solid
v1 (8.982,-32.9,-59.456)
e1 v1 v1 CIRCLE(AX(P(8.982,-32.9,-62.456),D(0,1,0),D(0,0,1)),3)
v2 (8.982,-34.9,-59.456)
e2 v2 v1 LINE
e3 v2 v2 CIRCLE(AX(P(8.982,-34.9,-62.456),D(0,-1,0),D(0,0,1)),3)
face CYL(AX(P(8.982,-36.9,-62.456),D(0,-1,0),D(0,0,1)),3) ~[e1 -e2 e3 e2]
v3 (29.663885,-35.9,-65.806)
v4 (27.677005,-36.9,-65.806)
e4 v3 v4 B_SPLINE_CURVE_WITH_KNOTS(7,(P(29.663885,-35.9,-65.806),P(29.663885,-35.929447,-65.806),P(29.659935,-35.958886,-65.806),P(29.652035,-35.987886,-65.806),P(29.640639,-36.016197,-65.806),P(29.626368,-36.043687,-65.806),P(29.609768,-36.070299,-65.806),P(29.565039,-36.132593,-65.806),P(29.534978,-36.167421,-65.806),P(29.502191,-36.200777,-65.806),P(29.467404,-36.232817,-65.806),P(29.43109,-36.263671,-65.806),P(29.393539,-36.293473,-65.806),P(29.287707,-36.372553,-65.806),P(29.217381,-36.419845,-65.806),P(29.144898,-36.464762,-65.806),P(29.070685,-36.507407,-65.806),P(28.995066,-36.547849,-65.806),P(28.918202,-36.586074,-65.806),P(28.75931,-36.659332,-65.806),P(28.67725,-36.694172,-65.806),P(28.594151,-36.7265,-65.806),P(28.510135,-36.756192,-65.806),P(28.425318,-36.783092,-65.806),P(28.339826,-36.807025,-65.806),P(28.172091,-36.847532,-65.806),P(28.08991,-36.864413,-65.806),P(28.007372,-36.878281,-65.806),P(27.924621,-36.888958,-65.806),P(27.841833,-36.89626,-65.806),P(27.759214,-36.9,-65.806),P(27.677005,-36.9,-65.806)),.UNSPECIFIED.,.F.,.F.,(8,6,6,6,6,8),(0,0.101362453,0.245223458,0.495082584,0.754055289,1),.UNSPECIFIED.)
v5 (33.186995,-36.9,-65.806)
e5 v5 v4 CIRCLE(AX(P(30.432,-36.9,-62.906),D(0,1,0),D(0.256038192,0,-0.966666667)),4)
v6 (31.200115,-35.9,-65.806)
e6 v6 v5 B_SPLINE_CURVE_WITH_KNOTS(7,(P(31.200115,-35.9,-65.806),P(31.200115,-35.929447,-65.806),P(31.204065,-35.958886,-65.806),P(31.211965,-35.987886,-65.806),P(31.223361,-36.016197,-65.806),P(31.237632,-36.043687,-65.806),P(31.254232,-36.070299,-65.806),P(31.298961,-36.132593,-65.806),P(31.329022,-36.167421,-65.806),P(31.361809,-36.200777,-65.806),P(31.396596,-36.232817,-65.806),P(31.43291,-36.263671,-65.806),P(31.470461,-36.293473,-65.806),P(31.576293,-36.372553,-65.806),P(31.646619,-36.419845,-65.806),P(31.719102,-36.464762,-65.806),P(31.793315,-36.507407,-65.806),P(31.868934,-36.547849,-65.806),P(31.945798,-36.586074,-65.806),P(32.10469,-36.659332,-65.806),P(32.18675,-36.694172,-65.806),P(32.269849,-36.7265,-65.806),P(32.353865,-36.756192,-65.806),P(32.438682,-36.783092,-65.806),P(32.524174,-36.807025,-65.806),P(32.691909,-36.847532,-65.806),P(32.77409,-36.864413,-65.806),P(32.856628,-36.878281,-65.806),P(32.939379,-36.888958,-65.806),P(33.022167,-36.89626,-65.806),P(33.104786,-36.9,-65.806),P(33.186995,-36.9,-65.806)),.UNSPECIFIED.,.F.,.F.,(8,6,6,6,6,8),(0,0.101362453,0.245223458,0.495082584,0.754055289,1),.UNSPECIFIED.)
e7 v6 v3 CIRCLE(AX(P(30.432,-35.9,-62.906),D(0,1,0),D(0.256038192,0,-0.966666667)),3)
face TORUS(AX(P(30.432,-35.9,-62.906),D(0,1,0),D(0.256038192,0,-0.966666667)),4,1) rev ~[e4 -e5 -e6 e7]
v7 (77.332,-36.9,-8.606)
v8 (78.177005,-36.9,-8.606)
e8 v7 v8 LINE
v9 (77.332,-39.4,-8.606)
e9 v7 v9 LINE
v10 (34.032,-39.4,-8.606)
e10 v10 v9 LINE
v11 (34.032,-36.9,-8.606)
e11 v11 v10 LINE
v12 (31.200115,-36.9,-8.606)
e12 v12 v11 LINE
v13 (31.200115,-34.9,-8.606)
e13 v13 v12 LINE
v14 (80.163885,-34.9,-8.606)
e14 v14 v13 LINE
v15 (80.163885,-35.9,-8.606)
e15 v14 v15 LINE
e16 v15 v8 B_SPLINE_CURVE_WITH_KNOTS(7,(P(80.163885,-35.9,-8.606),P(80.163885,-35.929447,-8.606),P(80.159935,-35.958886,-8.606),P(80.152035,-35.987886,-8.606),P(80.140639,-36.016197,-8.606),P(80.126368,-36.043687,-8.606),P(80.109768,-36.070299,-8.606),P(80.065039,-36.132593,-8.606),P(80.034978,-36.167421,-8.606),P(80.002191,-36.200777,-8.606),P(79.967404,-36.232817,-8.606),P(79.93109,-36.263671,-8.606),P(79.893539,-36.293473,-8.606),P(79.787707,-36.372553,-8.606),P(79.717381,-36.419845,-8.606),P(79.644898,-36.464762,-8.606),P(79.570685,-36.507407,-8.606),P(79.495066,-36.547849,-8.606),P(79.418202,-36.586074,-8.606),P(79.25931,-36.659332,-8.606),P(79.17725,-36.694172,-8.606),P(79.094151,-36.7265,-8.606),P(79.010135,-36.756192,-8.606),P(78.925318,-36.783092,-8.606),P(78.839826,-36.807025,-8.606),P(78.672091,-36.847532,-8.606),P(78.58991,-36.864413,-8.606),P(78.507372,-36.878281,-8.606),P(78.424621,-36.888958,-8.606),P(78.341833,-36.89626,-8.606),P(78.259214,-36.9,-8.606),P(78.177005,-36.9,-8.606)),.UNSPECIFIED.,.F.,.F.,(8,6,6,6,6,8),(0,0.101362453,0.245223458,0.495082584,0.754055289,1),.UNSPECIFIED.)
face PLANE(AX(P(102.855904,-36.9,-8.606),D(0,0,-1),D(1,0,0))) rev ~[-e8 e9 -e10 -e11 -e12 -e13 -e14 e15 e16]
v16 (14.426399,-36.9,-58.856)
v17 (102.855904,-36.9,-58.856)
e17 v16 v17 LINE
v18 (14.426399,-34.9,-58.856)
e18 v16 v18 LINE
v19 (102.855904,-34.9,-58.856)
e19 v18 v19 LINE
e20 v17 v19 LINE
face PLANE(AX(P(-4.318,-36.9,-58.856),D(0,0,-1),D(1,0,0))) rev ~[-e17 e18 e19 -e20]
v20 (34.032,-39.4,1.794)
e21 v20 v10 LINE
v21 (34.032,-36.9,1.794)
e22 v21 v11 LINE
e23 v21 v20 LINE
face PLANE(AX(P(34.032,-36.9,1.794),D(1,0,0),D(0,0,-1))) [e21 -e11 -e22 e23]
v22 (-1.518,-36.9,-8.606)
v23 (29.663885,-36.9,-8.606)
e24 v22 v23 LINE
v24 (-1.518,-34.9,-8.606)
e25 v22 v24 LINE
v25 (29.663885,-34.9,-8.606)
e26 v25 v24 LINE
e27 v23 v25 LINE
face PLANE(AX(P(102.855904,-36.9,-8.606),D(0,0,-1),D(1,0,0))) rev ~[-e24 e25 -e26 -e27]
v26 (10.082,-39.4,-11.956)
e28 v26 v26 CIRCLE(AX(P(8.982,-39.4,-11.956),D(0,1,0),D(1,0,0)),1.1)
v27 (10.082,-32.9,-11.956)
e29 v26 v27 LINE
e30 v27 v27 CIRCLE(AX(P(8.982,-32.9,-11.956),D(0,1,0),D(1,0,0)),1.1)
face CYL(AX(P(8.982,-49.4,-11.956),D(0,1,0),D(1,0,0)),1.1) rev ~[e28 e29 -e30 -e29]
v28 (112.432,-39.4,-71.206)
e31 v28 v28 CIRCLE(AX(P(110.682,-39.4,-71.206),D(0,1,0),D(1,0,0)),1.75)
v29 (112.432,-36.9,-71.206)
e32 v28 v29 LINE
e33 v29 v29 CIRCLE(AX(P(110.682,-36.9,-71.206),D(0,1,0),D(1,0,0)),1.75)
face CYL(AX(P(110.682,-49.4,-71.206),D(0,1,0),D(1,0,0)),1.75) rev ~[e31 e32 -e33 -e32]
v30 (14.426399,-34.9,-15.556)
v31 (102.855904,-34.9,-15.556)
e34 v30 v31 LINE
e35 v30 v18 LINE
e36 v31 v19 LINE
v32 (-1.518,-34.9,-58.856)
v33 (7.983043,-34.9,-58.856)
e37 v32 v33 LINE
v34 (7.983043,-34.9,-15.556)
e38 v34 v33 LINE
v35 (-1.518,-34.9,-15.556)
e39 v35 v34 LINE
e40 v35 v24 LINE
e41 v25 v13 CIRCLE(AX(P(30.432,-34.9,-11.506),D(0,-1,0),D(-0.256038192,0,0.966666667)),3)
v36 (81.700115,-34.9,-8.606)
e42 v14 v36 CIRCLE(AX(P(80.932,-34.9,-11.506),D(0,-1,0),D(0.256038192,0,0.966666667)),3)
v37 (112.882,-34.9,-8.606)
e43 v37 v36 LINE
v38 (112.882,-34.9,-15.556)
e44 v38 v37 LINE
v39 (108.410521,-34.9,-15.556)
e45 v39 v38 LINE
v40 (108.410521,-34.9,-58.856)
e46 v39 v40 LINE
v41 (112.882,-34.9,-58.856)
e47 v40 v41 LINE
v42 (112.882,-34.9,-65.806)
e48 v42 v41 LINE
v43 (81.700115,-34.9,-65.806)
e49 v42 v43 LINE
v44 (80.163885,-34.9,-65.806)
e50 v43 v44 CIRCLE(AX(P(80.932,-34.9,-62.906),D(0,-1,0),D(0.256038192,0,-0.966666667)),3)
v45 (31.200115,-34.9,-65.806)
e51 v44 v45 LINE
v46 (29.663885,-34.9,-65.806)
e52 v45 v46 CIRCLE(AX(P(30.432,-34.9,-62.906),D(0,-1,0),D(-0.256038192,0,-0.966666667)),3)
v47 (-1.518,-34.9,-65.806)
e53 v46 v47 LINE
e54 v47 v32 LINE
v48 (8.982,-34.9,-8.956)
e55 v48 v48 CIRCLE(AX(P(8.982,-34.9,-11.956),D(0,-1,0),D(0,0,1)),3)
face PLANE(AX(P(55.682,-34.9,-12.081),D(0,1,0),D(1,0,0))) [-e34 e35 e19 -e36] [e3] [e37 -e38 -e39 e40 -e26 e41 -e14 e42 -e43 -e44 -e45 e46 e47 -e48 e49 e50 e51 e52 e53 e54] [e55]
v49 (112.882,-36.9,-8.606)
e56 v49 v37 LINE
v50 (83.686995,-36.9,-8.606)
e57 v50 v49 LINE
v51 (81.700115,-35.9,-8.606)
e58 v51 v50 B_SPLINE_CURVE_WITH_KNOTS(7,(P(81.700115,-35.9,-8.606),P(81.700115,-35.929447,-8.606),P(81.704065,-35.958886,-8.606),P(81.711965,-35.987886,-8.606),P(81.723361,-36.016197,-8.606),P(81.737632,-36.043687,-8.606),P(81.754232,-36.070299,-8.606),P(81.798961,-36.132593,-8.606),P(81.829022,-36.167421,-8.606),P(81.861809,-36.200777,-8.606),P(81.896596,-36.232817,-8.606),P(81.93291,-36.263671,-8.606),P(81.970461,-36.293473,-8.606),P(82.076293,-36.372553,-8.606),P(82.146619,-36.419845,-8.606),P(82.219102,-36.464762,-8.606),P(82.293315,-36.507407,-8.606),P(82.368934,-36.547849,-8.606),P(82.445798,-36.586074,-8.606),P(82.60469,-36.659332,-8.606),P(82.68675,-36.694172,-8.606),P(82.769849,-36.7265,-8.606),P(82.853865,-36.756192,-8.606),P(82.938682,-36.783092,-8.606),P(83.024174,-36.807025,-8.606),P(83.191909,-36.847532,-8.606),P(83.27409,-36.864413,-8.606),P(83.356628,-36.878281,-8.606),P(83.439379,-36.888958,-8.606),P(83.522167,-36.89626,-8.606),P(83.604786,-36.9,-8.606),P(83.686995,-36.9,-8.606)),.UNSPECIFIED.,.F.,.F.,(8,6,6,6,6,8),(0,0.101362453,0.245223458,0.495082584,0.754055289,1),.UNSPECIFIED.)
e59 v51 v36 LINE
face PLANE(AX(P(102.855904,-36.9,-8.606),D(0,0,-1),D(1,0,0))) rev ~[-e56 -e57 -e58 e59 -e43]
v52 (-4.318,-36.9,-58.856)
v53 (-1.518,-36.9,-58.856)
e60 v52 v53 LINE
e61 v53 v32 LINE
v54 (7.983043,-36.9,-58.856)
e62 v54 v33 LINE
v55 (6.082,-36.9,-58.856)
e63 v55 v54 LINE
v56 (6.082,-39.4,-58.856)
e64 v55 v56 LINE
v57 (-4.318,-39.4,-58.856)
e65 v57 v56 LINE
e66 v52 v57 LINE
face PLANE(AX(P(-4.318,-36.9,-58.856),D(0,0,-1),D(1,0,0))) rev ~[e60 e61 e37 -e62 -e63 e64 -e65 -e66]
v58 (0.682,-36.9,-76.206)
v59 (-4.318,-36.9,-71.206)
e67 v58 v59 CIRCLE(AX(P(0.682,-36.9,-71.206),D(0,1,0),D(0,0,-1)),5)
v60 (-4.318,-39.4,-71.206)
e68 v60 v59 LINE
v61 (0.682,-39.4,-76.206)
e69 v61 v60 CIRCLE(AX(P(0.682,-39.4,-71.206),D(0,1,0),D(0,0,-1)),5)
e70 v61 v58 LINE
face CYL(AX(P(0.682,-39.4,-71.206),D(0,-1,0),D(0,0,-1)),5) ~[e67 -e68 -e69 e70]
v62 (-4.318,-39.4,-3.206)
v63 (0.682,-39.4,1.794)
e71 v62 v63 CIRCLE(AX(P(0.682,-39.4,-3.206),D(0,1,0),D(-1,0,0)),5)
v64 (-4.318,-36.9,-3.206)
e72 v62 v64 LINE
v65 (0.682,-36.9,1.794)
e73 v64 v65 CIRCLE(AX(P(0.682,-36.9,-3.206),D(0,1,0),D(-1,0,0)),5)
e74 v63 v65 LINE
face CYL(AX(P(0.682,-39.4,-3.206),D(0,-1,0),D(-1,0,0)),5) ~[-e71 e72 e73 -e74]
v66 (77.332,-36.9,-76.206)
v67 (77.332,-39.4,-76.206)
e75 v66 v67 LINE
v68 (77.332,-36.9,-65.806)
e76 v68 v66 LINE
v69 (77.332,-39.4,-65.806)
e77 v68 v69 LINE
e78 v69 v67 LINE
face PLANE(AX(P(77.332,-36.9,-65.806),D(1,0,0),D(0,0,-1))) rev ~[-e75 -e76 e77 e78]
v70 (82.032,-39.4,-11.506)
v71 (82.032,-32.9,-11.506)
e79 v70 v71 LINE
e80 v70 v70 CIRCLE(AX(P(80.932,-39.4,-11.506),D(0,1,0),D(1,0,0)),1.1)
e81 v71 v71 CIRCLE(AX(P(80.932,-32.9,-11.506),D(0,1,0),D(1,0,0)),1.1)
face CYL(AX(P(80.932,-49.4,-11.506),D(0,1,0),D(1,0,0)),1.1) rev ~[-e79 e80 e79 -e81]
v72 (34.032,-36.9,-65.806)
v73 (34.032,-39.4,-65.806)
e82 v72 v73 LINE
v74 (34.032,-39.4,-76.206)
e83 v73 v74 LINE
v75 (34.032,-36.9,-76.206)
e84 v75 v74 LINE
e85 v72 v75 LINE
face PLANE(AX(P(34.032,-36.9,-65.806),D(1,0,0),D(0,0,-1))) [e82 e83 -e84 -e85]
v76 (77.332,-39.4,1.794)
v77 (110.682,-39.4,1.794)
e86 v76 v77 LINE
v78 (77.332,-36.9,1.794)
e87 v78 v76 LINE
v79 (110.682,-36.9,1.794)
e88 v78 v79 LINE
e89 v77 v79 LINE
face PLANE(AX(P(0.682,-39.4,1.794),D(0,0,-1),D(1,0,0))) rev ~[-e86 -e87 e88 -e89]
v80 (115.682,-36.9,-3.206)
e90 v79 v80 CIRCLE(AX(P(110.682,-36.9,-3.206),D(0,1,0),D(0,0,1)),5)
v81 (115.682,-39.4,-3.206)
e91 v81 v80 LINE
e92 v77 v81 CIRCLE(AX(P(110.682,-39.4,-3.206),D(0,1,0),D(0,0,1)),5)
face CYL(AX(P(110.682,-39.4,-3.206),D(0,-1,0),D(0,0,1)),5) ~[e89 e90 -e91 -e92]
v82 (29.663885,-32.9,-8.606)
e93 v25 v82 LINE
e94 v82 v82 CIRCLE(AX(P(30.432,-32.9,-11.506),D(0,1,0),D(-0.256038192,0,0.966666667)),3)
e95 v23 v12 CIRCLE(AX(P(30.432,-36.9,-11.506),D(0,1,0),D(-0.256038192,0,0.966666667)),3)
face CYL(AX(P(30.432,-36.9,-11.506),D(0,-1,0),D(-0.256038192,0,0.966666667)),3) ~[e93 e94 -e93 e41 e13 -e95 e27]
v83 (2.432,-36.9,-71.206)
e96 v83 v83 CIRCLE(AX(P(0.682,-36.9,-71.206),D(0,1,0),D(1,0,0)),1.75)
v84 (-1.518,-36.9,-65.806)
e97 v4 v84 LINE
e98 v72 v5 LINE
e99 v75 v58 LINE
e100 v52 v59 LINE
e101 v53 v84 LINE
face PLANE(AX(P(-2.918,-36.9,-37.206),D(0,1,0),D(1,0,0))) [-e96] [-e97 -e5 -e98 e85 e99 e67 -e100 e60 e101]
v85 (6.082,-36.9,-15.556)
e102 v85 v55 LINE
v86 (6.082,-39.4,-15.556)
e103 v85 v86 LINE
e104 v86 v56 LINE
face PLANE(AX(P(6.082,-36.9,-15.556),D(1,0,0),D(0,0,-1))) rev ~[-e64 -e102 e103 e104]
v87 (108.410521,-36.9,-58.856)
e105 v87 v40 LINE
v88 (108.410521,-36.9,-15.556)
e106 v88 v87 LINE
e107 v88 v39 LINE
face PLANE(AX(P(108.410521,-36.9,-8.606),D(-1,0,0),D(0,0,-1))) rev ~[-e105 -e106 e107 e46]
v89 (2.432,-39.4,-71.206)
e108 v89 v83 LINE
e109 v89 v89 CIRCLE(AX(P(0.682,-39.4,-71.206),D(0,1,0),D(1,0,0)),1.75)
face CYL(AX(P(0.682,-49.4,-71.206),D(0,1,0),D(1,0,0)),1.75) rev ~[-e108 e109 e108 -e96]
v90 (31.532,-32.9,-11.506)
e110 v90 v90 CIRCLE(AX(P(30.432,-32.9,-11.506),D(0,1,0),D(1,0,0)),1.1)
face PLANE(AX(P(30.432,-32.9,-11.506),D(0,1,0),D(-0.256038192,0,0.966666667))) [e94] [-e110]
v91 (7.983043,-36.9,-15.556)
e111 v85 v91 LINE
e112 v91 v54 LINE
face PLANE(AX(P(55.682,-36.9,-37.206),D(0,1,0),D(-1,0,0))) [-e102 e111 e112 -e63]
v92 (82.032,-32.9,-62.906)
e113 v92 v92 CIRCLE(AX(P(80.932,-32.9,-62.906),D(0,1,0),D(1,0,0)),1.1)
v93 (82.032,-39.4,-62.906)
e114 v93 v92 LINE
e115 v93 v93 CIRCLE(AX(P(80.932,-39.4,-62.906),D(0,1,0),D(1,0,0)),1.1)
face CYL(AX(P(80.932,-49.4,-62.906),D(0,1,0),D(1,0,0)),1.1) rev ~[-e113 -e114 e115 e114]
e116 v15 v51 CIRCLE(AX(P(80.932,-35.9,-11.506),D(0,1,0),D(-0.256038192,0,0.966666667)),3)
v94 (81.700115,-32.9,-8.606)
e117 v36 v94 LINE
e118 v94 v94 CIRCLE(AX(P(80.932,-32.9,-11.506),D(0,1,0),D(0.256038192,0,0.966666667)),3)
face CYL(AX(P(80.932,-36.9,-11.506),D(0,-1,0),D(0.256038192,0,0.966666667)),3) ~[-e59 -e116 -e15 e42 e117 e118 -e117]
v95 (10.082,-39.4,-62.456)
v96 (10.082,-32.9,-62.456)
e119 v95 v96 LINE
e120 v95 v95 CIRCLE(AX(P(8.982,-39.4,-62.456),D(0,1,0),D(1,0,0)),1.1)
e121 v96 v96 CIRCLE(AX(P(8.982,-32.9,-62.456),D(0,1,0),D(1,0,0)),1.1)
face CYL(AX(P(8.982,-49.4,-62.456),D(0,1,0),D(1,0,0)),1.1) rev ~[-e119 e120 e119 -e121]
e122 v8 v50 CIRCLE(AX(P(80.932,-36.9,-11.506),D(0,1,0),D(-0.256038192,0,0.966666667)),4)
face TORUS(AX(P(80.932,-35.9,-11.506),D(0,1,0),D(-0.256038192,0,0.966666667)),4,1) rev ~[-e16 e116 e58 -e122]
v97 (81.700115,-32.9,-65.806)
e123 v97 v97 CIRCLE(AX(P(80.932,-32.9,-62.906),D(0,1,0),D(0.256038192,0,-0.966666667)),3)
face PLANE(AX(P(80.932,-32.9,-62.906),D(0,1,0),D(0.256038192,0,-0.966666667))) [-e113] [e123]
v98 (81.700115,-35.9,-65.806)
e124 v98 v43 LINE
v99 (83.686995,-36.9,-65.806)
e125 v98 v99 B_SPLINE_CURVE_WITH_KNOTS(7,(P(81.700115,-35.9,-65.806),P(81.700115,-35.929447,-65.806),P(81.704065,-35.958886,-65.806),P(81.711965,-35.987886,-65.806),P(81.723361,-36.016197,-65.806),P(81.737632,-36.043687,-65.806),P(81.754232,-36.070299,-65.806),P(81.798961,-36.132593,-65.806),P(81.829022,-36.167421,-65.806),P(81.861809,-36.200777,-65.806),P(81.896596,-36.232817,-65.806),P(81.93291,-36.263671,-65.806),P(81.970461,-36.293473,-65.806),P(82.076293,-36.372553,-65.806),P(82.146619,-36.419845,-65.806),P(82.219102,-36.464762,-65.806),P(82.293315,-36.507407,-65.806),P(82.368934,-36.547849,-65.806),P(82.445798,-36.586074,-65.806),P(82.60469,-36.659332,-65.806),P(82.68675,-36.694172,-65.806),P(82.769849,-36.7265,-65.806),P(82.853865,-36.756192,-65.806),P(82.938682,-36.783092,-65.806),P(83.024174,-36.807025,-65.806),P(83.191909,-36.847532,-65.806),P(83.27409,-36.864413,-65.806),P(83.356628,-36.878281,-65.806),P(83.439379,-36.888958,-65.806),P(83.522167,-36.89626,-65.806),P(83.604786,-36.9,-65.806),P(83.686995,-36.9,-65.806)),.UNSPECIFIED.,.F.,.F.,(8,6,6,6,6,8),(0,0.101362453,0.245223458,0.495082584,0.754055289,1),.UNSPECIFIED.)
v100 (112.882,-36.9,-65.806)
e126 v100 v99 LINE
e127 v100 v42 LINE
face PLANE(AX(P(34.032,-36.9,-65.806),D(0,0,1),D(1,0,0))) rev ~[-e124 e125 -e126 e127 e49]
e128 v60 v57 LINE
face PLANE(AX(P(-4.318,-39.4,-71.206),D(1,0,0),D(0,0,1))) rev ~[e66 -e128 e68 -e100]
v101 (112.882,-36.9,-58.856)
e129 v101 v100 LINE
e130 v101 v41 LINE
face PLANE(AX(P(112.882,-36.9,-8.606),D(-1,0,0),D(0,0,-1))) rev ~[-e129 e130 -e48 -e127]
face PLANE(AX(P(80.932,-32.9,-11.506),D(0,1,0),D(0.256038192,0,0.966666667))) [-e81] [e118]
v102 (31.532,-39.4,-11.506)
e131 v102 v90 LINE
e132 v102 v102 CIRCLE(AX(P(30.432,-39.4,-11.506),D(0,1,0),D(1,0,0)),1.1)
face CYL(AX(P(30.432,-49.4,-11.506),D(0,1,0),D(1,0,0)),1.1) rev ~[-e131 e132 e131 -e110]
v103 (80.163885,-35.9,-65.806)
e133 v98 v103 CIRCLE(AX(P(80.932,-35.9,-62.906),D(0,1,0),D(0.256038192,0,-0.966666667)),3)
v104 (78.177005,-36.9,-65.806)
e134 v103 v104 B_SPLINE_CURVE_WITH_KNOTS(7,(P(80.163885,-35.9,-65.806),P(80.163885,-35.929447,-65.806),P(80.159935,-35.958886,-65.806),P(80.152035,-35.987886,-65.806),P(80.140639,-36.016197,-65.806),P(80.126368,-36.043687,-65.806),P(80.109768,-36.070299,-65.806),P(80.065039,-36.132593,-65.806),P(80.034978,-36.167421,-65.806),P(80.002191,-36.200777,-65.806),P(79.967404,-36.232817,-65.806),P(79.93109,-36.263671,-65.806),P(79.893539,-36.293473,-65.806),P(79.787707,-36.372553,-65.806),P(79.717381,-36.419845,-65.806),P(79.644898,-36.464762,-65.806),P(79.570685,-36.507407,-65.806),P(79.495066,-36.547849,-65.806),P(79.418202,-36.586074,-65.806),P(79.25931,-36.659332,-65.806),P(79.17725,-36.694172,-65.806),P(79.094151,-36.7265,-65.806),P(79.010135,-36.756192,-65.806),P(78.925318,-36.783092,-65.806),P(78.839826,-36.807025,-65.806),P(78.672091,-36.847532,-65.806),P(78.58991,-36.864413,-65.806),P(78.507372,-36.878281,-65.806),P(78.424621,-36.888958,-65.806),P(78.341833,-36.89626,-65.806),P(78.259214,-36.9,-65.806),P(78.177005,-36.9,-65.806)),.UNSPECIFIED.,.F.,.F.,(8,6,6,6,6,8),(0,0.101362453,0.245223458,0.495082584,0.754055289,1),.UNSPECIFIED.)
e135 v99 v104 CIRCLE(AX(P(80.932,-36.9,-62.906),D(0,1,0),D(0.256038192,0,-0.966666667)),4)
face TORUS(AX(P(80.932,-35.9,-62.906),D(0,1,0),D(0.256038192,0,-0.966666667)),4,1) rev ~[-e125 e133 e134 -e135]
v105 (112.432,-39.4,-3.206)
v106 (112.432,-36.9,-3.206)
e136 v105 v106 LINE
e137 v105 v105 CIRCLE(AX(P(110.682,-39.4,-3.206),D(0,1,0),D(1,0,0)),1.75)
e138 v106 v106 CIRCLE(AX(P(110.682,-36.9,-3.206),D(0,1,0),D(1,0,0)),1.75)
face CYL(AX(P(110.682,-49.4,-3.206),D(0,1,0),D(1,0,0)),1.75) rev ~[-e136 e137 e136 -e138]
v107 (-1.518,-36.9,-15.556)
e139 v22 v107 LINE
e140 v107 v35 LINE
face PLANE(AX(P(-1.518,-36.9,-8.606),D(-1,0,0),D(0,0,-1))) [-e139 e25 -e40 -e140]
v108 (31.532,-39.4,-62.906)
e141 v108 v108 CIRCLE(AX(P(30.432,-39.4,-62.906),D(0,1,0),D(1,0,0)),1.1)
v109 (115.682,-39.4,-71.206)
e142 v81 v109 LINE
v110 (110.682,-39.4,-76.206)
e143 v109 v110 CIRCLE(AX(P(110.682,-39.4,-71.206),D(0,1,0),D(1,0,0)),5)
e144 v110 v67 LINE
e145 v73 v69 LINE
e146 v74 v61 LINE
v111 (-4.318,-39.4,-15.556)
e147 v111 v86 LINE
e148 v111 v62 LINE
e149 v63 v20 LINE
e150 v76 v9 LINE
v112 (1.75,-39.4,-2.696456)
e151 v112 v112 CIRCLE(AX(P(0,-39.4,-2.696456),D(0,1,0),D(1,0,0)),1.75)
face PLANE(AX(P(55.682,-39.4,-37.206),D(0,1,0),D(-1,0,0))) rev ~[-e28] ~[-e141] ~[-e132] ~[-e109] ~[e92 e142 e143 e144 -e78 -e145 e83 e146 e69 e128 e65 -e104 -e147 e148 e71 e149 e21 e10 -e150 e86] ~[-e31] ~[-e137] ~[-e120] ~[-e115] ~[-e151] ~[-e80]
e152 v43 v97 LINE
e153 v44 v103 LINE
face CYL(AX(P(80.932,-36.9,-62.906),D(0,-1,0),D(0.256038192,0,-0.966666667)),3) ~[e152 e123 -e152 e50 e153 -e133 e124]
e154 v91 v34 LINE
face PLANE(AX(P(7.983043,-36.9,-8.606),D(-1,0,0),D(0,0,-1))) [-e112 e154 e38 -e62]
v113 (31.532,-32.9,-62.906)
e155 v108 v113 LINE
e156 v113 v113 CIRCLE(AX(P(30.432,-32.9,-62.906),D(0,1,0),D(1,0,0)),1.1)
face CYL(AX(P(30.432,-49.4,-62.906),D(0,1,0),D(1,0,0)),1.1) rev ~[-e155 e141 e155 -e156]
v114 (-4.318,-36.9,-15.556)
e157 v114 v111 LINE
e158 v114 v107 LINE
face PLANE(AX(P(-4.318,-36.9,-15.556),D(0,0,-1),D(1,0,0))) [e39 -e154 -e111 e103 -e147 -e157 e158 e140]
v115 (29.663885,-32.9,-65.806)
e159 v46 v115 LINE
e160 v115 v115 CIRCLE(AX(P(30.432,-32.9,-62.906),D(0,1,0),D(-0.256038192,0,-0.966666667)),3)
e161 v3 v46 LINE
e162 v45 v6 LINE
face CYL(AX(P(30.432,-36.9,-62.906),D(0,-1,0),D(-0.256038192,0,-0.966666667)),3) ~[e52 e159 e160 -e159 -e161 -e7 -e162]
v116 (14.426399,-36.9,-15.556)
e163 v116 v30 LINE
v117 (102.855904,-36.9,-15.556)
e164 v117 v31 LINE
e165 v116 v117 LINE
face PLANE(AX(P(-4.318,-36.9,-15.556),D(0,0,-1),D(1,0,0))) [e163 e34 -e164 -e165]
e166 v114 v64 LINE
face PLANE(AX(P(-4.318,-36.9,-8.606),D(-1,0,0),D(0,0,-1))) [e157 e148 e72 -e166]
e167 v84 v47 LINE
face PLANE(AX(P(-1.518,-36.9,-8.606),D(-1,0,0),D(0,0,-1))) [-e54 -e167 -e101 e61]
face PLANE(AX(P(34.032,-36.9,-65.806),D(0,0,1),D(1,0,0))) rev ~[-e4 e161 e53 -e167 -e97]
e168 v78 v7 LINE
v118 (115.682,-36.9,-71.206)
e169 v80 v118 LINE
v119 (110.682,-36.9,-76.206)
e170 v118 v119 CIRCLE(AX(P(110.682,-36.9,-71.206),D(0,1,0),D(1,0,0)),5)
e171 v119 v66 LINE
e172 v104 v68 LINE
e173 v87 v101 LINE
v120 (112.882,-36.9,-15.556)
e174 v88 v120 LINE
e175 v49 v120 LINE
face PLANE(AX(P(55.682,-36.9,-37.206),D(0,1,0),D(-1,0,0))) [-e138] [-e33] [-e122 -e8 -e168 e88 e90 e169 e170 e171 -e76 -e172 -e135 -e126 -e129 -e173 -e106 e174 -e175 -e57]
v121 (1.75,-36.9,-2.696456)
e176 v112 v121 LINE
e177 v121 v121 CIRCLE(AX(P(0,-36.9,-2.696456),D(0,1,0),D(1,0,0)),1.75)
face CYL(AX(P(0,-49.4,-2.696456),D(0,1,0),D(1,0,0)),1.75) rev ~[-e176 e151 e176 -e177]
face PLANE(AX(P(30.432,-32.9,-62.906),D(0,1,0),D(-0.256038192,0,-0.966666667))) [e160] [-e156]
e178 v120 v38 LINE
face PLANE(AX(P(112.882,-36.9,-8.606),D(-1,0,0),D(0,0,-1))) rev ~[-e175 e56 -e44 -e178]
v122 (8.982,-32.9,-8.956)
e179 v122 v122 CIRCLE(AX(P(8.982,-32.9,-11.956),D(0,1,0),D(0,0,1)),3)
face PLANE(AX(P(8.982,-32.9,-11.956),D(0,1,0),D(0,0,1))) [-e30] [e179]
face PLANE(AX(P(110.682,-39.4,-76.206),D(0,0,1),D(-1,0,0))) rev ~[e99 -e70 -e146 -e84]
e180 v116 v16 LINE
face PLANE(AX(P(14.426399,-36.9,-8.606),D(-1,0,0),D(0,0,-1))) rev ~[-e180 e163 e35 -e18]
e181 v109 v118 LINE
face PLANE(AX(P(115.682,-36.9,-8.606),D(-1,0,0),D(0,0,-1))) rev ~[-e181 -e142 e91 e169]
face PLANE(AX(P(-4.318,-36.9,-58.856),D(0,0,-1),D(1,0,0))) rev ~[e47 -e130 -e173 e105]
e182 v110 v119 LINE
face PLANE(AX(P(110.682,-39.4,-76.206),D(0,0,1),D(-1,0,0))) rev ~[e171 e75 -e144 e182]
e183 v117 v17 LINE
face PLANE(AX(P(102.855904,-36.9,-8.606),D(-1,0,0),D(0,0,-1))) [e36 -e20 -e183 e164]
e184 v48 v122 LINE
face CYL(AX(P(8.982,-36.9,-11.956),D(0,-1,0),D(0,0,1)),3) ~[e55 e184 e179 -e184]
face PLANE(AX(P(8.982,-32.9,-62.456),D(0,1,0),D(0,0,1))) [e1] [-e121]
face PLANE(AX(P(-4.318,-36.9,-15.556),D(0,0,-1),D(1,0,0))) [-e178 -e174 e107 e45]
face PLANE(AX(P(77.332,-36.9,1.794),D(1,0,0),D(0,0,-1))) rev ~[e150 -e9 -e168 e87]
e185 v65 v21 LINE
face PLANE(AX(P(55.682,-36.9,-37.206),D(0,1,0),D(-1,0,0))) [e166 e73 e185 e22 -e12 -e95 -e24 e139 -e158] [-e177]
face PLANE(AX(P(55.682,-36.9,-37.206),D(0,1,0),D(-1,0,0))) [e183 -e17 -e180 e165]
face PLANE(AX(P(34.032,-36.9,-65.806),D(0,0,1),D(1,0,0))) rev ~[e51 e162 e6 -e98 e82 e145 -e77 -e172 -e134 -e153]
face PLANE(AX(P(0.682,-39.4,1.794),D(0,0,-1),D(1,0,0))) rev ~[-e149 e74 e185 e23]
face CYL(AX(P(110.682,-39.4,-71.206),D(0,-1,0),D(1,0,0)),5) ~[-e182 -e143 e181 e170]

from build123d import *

# Parameters (mm, degrees)
P_IDAT_VYSUNUT_M1_DEPTH      = 2.5
SKICA2_W                     = 43.3
SKICA2_H                     = 10.4
SKICA2_W_2                   = 10.4
SKICA2_H_2                   = 43.3
ODEBRAT_VYSUNUT_M1_DEPTH     = 139.549375892
SKICA6_W                     = 120
SKICA6_H                     = 6.95
P_IDAT_VYSUNUT_M3_DEPTH      = 2
SKICA7_W                     = 5.554617132
SKICA7_H                     = 57.2
SKICA7_W_2                   = 6.443355873
P_IDAT_VYSUNUT_M4_DEPTH      = 2
SKICA3_R                     = 3
P_IDAT_VYSUNUT_M2_DEPTH      = 4
F_2_2_2_2_PR_M_R_D_RY1_D     = 2.2
F_2_2_2_2_PR_M_R_D_RY1_DEPTH = 10
ZAOBLIT1_R                   = 1
SKICA8_W                     = 2.8
SKICA8_H                     = 57.2
ODEBRAT_VYSUNUT_M3_DEPTH     = 139.58455752
F_3_5_3_5_PR_M_R_D_RY1_D     = 3.5
F_3_5_3_5_PR_M_R_D_RY1_DEPTH = 10


with BuildPart() as part:
    # Skica1 → Přidat vysunutím1 (new body)
    with BuildSketch(Plane.XZ.offset(39.4)):
        with BuildLine():
            Line((-4.318, -71.206), (-4.318, -3.206))
            ThreePointArc((-4.318, -3.206), (-2.853533906, 0.329533906), (0.682, 1.794))
            Line((0.682, 1.794), (110.682, 1.794))
            ThreePointArc((110.682, 1.794), (114.217533906, 0.329533906), (115.682, -3.206))
            Line((115.682, -3.206), (115.682, -71.206))
            ThreePointArc((115.682, -71.206), (114.217533906, -74.741533906), (110.682, -76.206))
            Line((110.682, -76.206), (0.682, -76.206))
            ThreePointArc((0.682, -76.206), (-2.853533906, -74.741533906), (-4.318, -71.206))
        make_face()
    extrude(amount=-P_IDAT_VYSUNUT_M1_DEPTH)

    # Skica2 → Odebrat vysunutím1 (cut, through all)
    with BuildSketch(Plane(origin=(0, -36.9, 0), x_dir=(1, 0, 0), z_dir=(0, 1, 0))):
        with Locations((55.682, 3.406)):
            Rectangle(SKICA2_W, SKICA2_H)
        with Locations((0.882, 37.206)):
            Rectangle(SKICA2_W_2, SKICA2_H_2)
        with Locations((55.682, 71.006)):
            Rectangle(SKICA2_W, SKICA2_H)
    extrude(amount=-ODEBRAT_VYSUNUT_M1_DEPTH, mode=Mode.SUBTRACT)

    # Skica6 → Přidat vysunutím3 (add)
    with BuildSketch(Plane(origin=(0, -36.9, 0), x_dir=(1, 0, 0), z_dir=(0, 1, 0))):
        with Locations((55.682, 12.081)):
            Rectangle(SKICA6_W, SKICA6_H)
        with Locations((55.682, 62.331)):
            Rectangle(SKICA6_W, SKICA6_H)
    extrude(amount=P_IDAT_VYSUNUT_M3_DEPTH)

    # Skica7 → Přidat vysunutím4 (add)
    with BuildSketch(Plane(origin=(0, -36.9, 0), x_dir=(1, 0, 0), z_dir=(0, 1, 0))):
        with Locations((105.633212162, 37.206)):
            Rectangle(SKICA7_W, SKICA7_H)
        with Locations((11.204720922, 37.206)):
            Rectangle(SKICA7_W_2, SKICA7_H)
    extrude(amount=P_IDAT_VYSUNUT_M4_DEPTH)

    # Skica3 → Přidat vysunutím2 (add)
    with BuildSketch(Plane(origin=(0, -36.9, 0), x_dir=(1, 0, 0), z_dir=(0, 1, 0))):
        with Locations(Location((30.432, 11.506, 0), (0, 0, 255.164888418))):
            Circle(SKICA3_R)
        with Locations(Location((8.982, 11.956, 0), (0, 0, 270))):
            Circle(SKICA3_R)
        with Locations(Location((8.982, 62.456, 0), (0, 0, 270))):
            Circle(SKICA3_R)
        with Locations(Location((30.432, 62.906, 0), (0, 0, 104.835111582))):
            Circle(SKICA3_R)
        with Locations(Location((80.932, 62.906, 0), (0, 0, 75.164888418))):
            Circle(SKICA3_R)
        with Locations(Location((80.932, 11.506, 0), (0, 0, 284.835111582))):
            Circle(SKICA3_R)
    extrude(amount=P_IDAT_VYSUNUT_M2_DEPTH)

    # Ø2.2 (2.2) průměr díry1
    with Locations(Plane(origin=(0, -39.4, 0), x_dir=(-1, 0, 0), z_dir=(0, -1, 0))):
        with Locations((-8.982, 62.456), (-30.432, 62.906), (-80.932, 62.906), (-80.932, 11.506), (-30.432, 11.506), (-8.982, 11.956)):
            Hole(F_2_2_2_2_PR_M_R_D_RY1_D / 2, depth=F_2_2_2_2_PR_M_R_D_RY1_DEPTH)

    # Zaoblit1
    zaoblit1_edges = [part.edges().sort_by_distance(p)[0] for p in [
        (80.932, -36.9, -8.506),
        (80.932, -36.9, -65.906),
        (30.432, -36.9, -65.906),
    ]]
    fillet(zaoblit1_edges, radius=ZAOBLIT1_R)

    # Skica8 → Odebrat vysunutím3 (cut, through all)
    with BuildSketch(Plane(origin=(0, -36.9, 0), x_dir=(1, 0, 0), z_dir=(0, 1, 0))):
        with Locations((-2.918, 37.206)):
            Rectangle(SKICA8_W, SKICA8_H)
        with Locations((114.282, 37.206)):
            Rectangle(SKICA8_W, SKICA8_H)
    extrude(amount=ODEBRAT_VYSUNUT_M3_DEPTH, mode=Mode.SUBTRACT)

    # Ø3.5 (3.5) průměr díry1
    with Locations(Plane(origin=(0, -39.4, 0), x_dir=(-1, 0, 0), z_dir=(0, -1, 0))):
        with Locations((0, 2.696455625), (-0.682, 71.206), (-110.682, 71.206), (-110.682, 3.206)):
            Hole(F_3_5_3_5_PR_M_R_D_RY1_D / 2, depth=F_3_5_3_5_PR_M_R_D_RY1_DEPTH)


solid = part.part
